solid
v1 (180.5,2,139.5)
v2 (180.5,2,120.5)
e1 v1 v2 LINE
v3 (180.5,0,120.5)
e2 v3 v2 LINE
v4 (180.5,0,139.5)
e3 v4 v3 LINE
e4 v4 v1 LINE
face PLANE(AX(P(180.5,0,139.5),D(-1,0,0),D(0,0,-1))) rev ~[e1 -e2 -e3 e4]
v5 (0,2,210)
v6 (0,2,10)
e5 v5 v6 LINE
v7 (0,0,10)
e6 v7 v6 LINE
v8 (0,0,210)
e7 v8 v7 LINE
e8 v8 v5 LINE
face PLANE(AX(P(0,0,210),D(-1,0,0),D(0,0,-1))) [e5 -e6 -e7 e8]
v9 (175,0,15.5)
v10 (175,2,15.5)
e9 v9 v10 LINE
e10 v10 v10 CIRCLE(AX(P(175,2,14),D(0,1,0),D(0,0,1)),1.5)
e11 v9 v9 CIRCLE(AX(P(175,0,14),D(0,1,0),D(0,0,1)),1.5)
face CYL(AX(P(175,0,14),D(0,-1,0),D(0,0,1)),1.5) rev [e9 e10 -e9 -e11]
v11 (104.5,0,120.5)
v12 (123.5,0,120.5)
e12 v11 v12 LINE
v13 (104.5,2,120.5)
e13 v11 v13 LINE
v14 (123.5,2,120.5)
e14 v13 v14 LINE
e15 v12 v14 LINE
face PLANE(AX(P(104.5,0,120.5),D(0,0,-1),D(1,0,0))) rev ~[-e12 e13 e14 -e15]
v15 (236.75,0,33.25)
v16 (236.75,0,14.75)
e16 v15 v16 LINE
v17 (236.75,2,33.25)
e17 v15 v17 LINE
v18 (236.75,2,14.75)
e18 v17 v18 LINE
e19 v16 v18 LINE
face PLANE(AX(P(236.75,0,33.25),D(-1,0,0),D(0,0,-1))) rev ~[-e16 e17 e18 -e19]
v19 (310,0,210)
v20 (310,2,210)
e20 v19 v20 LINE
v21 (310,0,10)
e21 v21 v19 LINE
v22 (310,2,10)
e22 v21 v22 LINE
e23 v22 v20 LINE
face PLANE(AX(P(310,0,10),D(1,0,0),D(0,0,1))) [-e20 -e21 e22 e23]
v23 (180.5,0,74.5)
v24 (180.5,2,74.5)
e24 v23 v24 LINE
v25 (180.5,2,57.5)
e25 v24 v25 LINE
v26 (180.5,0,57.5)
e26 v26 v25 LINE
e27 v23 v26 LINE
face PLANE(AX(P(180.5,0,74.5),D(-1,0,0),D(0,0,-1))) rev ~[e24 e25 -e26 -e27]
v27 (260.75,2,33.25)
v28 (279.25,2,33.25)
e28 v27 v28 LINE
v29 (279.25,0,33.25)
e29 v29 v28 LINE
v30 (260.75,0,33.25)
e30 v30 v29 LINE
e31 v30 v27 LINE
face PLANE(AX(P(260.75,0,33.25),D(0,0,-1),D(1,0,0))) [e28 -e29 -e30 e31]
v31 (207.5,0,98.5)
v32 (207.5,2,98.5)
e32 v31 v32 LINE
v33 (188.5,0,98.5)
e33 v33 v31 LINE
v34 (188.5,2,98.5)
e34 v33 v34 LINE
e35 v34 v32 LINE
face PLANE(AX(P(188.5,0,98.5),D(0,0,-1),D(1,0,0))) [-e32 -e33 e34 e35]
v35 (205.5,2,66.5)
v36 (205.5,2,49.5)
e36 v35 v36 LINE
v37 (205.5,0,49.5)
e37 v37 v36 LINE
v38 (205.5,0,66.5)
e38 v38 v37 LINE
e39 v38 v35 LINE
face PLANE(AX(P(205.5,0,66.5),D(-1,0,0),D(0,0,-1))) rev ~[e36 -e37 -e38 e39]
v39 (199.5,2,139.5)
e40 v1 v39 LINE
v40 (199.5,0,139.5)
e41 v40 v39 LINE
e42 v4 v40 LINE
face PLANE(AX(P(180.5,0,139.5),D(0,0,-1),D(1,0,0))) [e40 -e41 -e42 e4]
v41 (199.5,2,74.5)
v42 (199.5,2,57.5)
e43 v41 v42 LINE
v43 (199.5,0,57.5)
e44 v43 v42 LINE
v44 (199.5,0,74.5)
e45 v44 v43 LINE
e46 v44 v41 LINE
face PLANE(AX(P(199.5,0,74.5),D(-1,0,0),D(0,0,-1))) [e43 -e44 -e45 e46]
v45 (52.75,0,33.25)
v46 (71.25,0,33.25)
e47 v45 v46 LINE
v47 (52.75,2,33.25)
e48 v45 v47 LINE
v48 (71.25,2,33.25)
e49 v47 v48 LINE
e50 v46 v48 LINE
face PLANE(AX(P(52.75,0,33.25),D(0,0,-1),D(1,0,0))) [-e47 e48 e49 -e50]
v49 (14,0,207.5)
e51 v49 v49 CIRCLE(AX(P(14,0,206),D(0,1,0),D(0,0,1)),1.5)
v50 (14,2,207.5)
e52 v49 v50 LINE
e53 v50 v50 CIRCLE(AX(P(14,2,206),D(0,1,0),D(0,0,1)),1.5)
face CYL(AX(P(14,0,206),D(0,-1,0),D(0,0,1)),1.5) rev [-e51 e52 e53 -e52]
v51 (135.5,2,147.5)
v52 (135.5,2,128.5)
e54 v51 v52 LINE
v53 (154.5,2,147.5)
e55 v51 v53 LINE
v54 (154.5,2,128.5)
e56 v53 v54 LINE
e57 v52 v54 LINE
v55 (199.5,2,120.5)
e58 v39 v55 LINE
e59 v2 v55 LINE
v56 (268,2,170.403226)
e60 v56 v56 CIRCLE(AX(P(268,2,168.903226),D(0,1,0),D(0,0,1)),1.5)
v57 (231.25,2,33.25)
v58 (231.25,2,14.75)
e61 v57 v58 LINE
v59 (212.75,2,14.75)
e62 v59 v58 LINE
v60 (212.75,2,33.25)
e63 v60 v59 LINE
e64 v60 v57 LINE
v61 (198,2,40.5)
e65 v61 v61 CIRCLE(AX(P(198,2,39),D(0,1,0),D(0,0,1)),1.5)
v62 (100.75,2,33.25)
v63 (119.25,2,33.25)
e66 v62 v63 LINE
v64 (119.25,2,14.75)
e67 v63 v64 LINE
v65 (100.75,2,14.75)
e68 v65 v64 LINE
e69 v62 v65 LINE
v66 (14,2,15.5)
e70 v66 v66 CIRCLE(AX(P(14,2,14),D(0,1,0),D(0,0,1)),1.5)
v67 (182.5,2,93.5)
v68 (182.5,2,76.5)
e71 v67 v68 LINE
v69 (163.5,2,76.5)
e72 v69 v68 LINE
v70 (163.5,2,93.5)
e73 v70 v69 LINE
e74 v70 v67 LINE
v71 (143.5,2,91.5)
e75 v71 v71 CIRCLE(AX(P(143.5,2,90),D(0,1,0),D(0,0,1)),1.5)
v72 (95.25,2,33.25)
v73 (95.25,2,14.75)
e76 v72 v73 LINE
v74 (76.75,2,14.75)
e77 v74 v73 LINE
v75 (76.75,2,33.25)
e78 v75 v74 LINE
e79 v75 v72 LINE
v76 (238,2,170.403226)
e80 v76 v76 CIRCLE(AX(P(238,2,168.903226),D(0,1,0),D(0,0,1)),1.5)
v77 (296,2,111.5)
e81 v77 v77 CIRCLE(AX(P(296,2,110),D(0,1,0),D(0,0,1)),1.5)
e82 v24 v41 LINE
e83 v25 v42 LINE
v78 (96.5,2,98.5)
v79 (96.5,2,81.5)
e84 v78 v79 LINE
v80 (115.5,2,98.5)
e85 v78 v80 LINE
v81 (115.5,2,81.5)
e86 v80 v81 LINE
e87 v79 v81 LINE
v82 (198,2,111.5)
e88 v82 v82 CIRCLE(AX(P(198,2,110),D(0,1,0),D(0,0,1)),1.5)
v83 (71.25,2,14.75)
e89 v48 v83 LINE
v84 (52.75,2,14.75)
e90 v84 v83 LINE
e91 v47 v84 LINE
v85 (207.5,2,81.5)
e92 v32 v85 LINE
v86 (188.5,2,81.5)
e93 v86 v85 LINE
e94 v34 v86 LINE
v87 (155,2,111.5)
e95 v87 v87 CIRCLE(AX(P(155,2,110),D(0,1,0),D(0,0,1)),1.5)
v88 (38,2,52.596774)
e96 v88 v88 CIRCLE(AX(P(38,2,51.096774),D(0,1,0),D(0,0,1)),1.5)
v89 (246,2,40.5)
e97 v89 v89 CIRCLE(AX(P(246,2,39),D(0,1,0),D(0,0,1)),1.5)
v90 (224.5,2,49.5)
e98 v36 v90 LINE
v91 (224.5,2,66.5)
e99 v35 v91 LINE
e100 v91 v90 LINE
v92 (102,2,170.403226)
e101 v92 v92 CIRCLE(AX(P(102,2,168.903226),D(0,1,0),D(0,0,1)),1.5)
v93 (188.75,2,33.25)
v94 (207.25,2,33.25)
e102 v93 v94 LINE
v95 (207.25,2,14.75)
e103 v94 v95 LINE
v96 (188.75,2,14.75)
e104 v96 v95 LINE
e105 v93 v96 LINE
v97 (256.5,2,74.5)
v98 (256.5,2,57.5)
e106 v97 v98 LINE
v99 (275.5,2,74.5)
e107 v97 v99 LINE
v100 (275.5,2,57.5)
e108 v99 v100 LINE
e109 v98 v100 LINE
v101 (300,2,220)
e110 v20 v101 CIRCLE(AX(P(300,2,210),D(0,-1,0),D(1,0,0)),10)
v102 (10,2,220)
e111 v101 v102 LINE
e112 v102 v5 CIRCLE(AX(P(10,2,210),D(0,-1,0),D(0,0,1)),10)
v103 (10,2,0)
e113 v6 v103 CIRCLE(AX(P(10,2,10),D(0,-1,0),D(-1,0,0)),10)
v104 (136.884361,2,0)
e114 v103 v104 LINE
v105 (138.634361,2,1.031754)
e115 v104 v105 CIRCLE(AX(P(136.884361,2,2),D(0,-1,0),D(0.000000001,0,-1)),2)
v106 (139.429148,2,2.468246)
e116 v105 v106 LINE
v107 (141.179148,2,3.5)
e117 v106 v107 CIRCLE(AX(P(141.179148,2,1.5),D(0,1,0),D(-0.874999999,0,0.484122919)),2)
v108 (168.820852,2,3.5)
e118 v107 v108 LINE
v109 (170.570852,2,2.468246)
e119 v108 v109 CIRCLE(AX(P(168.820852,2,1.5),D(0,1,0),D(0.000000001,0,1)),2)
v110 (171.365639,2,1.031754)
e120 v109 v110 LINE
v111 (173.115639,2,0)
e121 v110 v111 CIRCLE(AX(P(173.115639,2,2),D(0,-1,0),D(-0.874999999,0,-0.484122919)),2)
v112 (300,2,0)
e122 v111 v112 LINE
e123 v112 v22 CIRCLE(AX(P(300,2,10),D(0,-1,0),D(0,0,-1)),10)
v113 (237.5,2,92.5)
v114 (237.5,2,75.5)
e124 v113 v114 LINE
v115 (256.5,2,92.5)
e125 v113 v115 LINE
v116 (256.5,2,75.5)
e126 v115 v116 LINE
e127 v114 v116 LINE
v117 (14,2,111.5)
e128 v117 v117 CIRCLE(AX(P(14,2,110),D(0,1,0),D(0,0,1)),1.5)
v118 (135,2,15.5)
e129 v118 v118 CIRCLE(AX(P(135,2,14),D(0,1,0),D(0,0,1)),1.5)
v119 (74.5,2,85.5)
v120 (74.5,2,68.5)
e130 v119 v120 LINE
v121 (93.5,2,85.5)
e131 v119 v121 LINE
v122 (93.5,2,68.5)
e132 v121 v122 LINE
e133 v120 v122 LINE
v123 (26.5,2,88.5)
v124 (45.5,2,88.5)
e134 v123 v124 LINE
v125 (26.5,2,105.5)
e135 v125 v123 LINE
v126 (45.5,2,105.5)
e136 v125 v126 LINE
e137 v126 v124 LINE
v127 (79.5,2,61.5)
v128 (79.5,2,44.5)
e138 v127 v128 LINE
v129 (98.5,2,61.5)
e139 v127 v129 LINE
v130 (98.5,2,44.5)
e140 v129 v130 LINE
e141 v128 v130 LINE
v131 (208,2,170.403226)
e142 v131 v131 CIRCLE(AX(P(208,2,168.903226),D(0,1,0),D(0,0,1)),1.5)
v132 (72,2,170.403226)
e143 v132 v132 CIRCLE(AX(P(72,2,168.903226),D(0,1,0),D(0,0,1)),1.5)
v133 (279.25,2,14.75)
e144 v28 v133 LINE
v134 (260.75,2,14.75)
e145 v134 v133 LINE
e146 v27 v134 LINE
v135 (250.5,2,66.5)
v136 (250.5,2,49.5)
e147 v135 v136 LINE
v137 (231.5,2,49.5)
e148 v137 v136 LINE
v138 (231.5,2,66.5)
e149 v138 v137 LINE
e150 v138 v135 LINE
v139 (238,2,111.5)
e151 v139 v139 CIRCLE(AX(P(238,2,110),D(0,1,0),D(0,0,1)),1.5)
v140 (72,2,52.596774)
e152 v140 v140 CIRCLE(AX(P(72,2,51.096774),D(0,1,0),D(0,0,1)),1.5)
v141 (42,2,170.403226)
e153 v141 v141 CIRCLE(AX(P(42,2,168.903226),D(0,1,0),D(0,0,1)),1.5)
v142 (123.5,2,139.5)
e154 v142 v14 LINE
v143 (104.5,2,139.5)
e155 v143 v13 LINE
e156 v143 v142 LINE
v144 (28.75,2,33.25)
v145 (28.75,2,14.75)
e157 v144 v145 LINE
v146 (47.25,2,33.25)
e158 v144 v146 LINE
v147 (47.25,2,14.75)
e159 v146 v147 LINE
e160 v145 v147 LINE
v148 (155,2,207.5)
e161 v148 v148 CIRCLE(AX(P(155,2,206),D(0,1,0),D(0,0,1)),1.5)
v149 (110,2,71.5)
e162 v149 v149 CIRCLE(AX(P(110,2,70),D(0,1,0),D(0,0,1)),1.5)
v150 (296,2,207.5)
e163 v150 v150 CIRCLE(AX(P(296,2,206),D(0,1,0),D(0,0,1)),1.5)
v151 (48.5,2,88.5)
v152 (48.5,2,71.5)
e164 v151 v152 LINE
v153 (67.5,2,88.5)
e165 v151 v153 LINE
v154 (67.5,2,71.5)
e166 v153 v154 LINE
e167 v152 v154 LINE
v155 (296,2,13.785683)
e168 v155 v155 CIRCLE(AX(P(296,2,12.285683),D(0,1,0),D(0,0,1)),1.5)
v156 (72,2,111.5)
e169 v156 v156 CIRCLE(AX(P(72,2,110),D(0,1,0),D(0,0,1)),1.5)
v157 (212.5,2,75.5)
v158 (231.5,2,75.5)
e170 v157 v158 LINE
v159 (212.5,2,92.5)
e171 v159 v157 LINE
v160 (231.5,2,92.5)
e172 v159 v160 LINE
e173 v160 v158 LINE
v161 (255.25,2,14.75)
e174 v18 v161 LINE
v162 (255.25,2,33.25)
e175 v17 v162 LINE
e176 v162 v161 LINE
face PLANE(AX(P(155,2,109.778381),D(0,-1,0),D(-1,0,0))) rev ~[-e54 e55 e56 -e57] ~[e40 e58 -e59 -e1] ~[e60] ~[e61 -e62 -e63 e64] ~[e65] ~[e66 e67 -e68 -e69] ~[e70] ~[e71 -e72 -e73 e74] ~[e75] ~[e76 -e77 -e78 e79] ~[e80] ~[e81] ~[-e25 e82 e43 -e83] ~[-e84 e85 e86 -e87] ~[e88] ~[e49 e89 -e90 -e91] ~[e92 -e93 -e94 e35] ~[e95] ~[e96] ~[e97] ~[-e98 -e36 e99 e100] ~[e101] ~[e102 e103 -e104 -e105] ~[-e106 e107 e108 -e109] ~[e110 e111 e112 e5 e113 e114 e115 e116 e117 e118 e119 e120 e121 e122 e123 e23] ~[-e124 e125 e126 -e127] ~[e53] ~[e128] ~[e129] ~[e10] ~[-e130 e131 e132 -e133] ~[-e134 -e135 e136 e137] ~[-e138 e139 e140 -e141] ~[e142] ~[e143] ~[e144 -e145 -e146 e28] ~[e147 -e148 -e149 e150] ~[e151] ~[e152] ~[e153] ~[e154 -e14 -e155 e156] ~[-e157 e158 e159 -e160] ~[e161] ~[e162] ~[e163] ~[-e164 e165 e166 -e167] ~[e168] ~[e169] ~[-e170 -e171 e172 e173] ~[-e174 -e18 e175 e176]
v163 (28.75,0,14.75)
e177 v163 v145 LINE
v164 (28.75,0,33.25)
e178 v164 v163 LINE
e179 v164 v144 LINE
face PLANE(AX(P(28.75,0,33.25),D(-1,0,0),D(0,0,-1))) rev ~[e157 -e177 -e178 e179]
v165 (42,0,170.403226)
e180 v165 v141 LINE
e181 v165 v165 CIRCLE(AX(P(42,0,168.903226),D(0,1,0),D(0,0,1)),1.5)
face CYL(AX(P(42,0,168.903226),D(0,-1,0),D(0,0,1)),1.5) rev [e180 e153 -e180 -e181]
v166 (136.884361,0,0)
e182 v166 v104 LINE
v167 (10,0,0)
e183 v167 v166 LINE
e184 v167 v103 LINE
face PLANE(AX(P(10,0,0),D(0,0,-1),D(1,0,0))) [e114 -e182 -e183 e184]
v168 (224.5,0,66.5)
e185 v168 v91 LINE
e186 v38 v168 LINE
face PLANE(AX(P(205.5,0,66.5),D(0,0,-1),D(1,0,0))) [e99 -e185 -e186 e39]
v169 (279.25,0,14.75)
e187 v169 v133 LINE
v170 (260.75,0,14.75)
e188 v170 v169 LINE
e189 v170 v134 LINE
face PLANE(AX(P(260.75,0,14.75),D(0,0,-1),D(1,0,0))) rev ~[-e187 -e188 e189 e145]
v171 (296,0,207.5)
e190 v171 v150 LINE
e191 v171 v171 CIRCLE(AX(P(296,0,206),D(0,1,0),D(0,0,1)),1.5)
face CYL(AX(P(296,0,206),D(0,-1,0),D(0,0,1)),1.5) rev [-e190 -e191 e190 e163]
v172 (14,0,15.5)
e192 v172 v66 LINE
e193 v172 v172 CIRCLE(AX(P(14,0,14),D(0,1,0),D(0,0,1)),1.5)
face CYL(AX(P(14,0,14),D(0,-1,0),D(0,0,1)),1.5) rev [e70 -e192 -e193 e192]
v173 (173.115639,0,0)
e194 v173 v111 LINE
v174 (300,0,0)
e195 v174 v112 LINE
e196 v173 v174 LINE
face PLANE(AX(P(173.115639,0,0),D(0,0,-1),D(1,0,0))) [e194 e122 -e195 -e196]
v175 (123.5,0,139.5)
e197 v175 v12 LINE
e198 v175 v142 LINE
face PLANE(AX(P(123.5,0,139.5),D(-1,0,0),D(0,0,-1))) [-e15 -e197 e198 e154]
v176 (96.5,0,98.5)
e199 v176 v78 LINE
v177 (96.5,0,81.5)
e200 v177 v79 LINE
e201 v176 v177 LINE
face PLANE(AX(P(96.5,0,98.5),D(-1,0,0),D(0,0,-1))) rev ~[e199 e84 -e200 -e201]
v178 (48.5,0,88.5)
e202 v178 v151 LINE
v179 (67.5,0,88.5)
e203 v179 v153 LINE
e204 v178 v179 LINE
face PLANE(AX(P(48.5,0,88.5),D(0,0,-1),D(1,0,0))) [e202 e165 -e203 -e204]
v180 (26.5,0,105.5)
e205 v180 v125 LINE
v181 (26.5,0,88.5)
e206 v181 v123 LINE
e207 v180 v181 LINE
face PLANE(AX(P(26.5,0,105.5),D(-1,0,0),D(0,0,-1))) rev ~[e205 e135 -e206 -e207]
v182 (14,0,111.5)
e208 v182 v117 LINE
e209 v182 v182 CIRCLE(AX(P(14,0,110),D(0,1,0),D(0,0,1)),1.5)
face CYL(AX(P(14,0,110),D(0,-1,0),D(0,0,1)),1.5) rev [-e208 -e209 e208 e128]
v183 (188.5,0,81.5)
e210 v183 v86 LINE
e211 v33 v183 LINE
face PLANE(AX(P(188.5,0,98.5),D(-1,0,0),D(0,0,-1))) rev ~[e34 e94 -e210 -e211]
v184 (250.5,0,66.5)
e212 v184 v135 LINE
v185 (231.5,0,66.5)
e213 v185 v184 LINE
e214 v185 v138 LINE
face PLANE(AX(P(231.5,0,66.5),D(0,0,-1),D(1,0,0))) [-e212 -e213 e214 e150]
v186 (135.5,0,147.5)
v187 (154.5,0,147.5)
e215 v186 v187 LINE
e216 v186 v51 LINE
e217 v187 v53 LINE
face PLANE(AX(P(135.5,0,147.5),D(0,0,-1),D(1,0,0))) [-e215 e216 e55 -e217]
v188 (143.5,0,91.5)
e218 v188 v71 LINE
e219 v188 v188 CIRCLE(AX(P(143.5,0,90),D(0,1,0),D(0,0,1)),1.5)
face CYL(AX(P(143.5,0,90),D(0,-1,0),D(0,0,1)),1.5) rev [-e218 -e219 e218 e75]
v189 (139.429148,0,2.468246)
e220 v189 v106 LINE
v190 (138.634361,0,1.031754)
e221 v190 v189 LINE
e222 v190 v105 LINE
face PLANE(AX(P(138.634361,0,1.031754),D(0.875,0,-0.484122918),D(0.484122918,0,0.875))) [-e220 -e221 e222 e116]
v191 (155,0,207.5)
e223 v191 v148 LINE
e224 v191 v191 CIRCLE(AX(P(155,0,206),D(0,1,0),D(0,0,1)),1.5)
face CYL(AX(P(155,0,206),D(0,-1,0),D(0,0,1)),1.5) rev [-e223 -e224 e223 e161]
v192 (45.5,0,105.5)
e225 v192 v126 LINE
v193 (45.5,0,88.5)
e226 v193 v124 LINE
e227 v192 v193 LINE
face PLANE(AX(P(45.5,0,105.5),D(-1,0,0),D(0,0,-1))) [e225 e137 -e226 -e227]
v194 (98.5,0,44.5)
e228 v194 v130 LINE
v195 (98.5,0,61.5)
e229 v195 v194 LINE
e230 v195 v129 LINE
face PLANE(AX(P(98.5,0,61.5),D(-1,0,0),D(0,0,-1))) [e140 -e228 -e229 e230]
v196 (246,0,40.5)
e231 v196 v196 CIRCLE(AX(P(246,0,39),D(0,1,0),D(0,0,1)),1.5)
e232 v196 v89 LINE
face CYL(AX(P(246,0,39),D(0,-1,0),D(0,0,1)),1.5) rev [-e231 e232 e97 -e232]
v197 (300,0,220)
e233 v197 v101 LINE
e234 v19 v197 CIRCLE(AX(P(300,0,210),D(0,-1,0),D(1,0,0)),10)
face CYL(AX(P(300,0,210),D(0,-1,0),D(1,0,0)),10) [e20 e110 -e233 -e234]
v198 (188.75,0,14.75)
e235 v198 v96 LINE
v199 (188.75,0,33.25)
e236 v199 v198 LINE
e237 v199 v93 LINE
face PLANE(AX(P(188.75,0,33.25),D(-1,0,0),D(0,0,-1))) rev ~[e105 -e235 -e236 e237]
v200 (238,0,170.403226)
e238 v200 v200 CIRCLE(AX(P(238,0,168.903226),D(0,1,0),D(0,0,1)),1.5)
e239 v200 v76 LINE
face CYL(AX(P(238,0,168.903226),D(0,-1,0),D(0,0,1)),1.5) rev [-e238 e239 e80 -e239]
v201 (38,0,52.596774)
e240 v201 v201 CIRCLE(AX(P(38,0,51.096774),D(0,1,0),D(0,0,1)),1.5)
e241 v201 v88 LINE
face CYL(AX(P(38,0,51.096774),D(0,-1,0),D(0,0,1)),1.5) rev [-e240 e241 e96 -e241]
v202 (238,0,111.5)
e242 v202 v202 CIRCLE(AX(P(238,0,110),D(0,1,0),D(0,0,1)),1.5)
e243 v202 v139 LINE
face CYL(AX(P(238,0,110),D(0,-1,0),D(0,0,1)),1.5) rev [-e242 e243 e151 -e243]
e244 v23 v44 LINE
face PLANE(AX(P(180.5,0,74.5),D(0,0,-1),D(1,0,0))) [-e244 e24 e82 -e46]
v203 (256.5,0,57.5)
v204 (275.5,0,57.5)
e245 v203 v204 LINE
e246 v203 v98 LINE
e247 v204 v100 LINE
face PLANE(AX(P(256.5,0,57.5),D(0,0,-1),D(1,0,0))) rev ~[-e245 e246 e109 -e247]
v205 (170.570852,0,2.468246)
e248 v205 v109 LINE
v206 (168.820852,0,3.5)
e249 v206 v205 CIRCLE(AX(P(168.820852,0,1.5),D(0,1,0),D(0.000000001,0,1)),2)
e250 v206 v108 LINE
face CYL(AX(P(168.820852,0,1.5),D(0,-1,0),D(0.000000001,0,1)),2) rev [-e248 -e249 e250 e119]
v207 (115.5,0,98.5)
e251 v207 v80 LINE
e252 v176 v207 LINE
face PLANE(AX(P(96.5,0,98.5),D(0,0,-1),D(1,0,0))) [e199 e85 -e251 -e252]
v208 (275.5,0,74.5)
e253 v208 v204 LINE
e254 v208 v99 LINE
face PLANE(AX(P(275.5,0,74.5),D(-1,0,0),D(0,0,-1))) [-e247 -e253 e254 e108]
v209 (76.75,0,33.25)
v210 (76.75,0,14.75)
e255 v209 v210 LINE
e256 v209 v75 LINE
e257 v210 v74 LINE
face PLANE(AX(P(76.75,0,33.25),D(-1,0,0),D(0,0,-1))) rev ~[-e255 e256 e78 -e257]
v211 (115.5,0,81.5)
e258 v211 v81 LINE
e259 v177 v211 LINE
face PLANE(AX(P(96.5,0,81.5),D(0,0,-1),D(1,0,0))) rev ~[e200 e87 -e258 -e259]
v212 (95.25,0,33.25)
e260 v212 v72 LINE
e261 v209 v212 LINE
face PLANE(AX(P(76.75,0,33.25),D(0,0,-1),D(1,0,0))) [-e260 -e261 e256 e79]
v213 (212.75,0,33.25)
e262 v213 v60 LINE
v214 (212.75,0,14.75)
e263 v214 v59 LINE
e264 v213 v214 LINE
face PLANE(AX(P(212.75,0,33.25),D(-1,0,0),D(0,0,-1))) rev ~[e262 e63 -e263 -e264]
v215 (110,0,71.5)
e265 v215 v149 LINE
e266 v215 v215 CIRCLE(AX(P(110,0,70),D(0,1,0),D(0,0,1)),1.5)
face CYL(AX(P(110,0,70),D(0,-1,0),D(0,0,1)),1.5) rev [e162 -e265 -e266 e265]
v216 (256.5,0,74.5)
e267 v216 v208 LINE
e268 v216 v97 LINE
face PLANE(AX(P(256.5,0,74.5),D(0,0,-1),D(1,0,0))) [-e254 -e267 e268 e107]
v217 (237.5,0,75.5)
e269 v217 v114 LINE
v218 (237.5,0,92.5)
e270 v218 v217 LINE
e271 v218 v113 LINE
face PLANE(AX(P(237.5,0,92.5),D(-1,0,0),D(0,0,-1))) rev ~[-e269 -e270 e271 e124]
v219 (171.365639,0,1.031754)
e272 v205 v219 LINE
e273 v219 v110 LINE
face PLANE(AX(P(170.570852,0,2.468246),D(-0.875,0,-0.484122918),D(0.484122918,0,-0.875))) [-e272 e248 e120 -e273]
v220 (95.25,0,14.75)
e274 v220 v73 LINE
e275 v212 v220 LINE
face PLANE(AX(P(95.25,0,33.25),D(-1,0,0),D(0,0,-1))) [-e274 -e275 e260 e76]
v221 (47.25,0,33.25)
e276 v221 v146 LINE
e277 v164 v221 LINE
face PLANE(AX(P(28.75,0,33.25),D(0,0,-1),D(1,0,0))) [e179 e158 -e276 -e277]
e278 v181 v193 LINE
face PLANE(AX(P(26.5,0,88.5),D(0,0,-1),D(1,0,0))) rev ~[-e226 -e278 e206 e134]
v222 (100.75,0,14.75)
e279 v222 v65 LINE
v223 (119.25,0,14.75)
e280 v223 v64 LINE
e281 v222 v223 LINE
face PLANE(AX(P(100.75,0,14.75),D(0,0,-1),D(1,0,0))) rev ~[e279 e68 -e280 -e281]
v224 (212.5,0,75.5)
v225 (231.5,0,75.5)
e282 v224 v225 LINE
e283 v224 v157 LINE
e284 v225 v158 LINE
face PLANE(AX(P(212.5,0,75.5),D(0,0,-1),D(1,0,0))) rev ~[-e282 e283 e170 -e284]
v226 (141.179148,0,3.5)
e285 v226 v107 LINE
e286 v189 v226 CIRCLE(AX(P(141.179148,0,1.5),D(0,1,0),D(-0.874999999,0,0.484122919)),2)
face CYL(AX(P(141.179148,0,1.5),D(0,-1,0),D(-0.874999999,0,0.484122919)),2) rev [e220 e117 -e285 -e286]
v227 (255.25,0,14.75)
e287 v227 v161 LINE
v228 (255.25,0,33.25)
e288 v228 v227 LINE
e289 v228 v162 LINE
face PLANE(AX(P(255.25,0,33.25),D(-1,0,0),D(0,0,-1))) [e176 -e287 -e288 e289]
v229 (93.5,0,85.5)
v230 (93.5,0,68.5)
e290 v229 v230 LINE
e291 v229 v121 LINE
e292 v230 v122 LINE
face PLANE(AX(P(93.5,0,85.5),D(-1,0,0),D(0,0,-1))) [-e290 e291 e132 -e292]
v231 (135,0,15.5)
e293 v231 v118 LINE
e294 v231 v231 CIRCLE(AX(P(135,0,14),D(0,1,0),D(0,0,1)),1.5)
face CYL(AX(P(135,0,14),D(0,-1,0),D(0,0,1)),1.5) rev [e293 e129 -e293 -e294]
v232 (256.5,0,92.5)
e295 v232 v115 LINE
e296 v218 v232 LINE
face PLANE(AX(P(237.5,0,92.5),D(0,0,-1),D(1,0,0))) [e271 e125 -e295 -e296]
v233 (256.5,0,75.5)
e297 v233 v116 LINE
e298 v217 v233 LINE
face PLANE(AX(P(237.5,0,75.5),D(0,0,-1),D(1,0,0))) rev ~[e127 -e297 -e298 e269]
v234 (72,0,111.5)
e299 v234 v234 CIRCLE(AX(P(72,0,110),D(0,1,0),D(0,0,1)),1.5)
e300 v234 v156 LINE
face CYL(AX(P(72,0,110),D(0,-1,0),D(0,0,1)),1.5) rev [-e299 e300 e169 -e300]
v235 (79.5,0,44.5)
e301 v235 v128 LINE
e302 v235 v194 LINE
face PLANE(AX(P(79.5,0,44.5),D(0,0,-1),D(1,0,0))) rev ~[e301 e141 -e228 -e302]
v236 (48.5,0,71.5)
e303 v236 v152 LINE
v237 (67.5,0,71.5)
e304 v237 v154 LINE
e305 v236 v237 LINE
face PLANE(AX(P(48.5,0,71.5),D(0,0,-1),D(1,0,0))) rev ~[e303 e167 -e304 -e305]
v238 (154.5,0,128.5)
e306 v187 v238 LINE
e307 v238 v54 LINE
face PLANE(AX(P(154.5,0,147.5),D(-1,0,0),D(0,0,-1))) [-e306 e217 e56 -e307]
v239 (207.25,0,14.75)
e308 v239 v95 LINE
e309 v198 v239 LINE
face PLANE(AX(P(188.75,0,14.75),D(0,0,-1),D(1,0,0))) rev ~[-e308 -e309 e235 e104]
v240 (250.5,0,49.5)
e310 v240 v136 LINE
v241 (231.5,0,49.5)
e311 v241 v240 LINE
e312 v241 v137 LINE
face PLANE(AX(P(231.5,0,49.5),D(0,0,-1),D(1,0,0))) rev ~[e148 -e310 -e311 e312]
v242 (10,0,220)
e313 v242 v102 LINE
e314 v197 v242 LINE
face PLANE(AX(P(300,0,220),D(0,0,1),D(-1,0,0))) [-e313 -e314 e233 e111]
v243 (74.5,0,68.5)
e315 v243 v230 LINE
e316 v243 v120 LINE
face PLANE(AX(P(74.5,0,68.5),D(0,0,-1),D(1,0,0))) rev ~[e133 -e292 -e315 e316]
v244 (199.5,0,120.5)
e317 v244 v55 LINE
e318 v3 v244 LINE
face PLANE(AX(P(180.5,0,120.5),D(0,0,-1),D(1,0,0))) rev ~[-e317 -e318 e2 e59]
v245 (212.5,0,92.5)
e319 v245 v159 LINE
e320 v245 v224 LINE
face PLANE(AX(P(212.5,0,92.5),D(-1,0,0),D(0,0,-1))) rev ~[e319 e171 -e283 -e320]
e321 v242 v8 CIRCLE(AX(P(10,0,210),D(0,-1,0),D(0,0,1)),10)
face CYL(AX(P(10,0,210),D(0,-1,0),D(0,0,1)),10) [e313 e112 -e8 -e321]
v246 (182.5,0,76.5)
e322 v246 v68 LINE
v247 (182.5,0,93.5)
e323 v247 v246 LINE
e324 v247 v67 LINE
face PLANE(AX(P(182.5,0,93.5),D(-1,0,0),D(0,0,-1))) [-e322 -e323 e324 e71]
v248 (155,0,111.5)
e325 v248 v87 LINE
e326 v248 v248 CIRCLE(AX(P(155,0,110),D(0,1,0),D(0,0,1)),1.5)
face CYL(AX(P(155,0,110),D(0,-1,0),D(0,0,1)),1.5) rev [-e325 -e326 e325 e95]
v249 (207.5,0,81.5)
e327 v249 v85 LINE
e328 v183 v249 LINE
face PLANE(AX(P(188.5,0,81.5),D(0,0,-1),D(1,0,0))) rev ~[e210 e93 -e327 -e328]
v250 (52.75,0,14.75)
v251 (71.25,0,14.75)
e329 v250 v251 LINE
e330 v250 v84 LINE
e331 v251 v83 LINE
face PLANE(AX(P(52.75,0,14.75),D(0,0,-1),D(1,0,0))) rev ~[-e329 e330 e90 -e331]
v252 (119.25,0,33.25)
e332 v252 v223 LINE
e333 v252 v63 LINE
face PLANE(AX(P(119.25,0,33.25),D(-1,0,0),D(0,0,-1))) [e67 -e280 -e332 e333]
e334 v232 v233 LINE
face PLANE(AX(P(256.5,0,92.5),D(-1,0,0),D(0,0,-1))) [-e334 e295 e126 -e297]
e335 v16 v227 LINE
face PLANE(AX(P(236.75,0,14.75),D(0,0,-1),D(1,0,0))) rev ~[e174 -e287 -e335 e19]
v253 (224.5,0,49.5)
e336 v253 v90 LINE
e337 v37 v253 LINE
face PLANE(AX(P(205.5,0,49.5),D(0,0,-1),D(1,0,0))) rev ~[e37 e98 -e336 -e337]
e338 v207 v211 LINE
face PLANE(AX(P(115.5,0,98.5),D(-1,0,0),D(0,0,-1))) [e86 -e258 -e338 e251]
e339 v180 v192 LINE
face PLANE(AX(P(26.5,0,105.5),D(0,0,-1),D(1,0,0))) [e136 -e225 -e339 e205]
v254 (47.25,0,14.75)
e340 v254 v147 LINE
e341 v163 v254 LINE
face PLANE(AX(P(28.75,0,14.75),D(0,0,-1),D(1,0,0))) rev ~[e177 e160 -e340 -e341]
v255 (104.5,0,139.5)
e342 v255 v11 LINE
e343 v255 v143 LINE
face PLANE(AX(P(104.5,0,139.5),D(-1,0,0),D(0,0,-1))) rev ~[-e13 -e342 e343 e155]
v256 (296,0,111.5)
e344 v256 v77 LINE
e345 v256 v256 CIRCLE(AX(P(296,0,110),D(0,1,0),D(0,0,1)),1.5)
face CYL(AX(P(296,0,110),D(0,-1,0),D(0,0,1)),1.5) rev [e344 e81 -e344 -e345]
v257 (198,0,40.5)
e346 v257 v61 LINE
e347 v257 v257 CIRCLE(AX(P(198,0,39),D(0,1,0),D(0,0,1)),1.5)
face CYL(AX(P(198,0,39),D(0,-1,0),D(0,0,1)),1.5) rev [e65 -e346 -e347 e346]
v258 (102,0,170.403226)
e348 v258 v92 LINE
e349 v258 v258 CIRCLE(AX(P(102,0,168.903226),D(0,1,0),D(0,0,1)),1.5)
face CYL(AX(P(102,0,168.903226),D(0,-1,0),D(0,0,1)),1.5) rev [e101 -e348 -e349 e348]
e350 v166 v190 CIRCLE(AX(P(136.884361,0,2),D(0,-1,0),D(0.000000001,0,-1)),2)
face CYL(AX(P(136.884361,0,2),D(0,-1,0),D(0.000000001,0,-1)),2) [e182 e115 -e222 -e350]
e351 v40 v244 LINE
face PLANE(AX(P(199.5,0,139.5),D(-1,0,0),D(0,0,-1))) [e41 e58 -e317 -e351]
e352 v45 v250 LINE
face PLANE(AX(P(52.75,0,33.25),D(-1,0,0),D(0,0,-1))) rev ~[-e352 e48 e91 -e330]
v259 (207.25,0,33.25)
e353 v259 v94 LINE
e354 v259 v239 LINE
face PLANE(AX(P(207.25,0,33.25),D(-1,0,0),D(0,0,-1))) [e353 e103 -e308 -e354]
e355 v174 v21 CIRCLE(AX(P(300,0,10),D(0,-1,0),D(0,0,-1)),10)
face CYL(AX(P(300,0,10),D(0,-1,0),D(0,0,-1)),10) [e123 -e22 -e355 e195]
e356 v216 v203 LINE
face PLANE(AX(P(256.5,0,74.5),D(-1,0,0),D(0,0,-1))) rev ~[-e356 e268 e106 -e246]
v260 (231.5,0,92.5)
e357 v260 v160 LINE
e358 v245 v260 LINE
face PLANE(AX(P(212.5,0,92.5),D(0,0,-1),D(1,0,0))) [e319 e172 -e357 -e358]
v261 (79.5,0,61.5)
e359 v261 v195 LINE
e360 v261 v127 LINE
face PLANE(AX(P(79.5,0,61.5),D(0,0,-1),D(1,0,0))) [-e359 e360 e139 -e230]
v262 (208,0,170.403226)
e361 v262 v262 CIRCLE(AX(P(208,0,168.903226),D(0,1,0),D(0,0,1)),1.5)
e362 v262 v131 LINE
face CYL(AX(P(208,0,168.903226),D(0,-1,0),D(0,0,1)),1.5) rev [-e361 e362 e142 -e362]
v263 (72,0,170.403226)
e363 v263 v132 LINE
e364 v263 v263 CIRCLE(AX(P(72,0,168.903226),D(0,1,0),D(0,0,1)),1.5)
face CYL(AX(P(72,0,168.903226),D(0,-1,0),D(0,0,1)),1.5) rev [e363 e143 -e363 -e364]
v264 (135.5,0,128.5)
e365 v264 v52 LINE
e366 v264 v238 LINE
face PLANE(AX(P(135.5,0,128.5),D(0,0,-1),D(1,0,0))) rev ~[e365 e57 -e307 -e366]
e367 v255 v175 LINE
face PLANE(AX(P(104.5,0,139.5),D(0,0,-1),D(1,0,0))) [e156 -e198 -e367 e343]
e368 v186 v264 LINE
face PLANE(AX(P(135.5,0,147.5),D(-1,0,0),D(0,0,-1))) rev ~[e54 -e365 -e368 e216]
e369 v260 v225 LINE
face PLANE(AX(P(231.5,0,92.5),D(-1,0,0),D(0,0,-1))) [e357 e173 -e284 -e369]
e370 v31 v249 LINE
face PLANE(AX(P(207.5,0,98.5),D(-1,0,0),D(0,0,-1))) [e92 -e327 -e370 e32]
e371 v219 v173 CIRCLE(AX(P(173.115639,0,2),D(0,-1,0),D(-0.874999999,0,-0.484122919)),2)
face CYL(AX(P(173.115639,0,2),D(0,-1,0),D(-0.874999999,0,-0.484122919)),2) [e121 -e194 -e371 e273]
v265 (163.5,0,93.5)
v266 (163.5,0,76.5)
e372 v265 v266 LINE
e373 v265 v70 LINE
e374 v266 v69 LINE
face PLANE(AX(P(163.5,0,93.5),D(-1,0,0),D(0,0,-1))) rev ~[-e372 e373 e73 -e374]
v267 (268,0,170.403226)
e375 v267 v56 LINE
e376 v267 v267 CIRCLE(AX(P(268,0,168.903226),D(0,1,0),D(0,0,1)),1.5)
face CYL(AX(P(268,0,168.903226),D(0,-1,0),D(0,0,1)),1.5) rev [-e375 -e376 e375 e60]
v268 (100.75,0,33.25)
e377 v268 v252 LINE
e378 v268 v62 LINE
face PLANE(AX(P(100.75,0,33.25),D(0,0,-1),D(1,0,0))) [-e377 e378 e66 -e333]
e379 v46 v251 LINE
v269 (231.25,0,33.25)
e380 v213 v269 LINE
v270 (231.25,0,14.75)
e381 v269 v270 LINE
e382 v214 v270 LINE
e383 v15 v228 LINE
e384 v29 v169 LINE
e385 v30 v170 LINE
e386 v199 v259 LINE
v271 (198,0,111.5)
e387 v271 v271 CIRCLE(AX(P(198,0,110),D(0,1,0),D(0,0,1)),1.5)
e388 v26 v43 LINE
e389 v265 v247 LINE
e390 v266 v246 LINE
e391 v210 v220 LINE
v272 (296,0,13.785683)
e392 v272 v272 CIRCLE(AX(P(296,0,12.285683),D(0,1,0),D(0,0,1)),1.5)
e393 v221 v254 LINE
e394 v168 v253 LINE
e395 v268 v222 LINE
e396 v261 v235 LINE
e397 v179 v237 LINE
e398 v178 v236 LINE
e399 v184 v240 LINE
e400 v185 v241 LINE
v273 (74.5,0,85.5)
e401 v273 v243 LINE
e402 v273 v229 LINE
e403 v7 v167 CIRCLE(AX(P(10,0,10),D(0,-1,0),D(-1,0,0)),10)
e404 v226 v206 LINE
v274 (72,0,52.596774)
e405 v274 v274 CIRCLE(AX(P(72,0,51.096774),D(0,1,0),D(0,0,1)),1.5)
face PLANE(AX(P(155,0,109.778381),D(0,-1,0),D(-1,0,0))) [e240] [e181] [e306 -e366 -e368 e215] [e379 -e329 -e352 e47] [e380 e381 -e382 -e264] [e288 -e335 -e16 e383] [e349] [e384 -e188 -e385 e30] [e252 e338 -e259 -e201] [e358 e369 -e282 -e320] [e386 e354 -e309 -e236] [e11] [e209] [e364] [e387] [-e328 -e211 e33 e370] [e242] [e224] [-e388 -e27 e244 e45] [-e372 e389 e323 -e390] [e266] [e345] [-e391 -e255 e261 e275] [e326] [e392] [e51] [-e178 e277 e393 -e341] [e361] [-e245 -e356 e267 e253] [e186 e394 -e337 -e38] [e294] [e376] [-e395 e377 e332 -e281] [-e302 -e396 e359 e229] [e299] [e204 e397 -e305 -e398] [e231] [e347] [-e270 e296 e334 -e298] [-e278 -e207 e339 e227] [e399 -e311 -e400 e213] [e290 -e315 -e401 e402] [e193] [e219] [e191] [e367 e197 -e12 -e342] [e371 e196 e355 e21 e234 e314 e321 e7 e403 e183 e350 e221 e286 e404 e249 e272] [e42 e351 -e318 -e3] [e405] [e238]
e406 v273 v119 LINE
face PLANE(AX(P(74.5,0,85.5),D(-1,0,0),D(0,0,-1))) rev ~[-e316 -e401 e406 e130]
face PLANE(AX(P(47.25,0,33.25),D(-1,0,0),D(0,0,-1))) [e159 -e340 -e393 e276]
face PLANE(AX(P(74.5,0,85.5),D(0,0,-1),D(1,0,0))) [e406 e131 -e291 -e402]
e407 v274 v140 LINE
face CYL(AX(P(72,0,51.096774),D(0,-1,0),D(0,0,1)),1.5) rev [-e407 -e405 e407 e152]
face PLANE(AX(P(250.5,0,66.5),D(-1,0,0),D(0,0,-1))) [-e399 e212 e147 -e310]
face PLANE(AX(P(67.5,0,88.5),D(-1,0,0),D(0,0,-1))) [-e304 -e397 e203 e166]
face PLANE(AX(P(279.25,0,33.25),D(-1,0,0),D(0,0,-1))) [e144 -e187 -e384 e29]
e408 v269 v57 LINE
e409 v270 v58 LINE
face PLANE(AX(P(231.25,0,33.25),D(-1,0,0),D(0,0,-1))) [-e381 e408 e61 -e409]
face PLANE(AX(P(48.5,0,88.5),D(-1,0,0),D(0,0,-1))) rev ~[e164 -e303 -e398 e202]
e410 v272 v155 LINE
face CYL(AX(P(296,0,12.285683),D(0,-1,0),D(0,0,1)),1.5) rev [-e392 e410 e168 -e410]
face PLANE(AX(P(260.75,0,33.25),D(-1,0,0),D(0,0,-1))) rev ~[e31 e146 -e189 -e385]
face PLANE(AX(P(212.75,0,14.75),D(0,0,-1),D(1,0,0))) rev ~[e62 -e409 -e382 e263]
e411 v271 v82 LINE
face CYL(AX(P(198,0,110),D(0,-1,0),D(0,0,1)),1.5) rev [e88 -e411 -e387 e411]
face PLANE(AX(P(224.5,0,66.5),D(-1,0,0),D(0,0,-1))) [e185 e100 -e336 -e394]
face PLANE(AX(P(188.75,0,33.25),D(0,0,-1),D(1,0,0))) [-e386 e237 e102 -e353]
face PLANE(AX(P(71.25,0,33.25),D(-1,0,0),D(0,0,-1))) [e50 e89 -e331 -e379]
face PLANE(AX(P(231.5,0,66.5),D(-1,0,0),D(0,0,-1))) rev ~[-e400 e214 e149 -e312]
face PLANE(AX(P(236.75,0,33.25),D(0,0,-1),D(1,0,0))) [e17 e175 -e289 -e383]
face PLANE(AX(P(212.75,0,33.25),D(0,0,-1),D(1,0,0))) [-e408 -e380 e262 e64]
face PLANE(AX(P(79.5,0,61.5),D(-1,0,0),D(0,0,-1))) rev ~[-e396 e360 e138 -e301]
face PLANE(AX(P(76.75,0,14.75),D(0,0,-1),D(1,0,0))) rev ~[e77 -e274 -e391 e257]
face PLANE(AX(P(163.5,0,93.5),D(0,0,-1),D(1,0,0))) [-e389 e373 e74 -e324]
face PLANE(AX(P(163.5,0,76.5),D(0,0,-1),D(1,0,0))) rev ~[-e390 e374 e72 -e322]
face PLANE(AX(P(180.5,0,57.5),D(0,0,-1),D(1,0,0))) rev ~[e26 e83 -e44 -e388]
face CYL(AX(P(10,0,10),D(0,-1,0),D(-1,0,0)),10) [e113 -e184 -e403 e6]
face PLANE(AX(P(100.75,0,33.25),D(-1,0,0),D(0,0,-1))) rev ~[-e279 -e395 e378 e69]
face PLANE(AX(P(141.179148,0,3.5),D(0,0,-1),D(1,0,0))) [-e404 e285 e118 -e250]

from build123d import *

# Parameters (mm, degrees)
SKETCH_1_R      = 1.5
SKETCH_1_W      = 18.5
SKETCH_1_H      = 18.5
SKETCH_1_W_2    = 19
SKETCH_1_H_2    = 17
SKETCH_1_H_3    = 19
EXTRUDE_1_DEPTH = 2


with BuildPart() as part:
    # 草图1 → 凸台-拉伸1 (new body)
    with BuildSketch(Plane(origin=(0, 0, 0), x_dir=(1, 0, 0), z_dir=(0, 1, 0))):
        with BuildLine():
            Line((10, 0), (136.884360712, 0))
            ThreePointArc((136.884360712, 0), (137.900113715, -0.277140216), (138.634360712, -1.031754163))
            Line((138.634360712, -1.031754163), (139.429147615, -2.468245837))
            ThreePointArc((139.429147615, -2.468245837), (140.163394612, -3.222859784), (141.179147615, -3.5))
            Line((141.179147615, -3.5), (143.5, -3.5))
            Line((143.5, -3.5), (166.5, -3.5))
            Line((166.5, -3.5), (168.820852385, -3.5))
            ThreePointArc((168.820852385, -3.5), (169.836605388, -3.222859784), (170.570852385, -2.468245837))
            Line((170.570852385, -2.468245837), (171.365639288, -1.031754163))
            ThreePointArc((171.365639288, -1.031754163), (172.099886285, -0.277140216), (173.115639288, 0))
            Line((173.115639288, 0), (300, 0))
            ThreePointArc((300, 0), (307.071067812, -2.928932188), (310, -10))
            Line((310, -10), (310, -210))
            ThreePointArc((310, -210), (307.071067812, -217.071067812), (300, -220))
            Line((300, -220), (10, -220))
            ThreePointArc((10, -220), (2.928932188, -217.071067812), (0, -210))
            Line((0, -210), (0, -10))
            ThreePointArc((0, -10), (2.928932188, -2.928932188), (10, 0))
        make_face()
        with Locations(Location((14, -14, 0), (0, 0, 270))):
            Circle(SKETCH_1_R, mode=Mode.SUBTRACT)
        with Locations(Location((14, -206, 0), (0, 0, 270))):
            Circle(SKETCH_1_R, mode=Mode.SUBTRACT)
        with Locations(Location((296, -206, 0), (0, 0, 270))):
            Circle(SKETCH_1_R, mode=Mode.SUBTRACT)
        with Locations(Location((296, -12.28568254, 0), (0, 0, 270))):
            Circle(SKETCH_1_R, mode=Mode.SUBTRACT)
        with Locations(Location((155, -206, 0), (0, 0, 270))):
            Circle(SKETCH_1_R, mode=Mode.SUBTRACT)
        with Locations(Location((175, -14, 0), (0, 0, 270))):
            Circle(SKETCH_1_R, mode=Mode.SUBTRACT)
        with Locations(Location((135, -14, 0), (0, 0, 270))):
            Circle(SKETCH_1_R, mode=Mode.SUBTRACT)
        with Locations(Location((296, -110, 0), (0, 0, 270))):
            Circle(SKETCH_1_R, mode=Mode.SUBTRACT)
        with Locations(Location((14, -110, 0), (0, 0, 270))):
            Circle(SKETCH_1_R, mode=Mode.SUBTRACT)
        with Locations(Location((155, -110, 0), (0, 0, 270))):
            Circle(SKETCH_1_R, mode=Mode.SUBTRACT)
        with Locations(Location((72, -110, 0), (0, 0, 270))):
            Circle(SKETCH_1_R, mode=Mode.SUBTRACT)
        with Locations(Location((72, -168.903225806, 0), (0, 0, 270))):
            Circle(SKETCH_1_R, mode=Mode.SUBTRACT)
        with Locations(Location((72, -51.096774194, 0), (0, 0, 270))):
            Circle(SKETCH_1_R, mode=Mode.SUBTRACT)
        with Locations(Location((42, -168.903225806, 0), (0, 0, 270))):
            Circle(SKETCH_1_R, mode=Mode.SUBTRACT)
        with Locations(Location((102, -168.903225806, 0), (0, 0, 270))):
            Circle(SKETCH_1_R, mode=Mode.SUBTRACT)
        with Locations(Location((238, -110, 0), (0, 0, 270))):
            Circle(SKETCH_1_R, mode=Mode.SUBTRACT)
        with Locations(Location((238, -168.903225806, 0), (0, 0, 270))):
            Circle(SKETCH_1_R, mode=Mode.SUBTRACT)
        with Locations(Location((268, -168.903225806, 0), (0, 0, 270))):
            Circle(SKETCH_1_R, mode=Mode.SUBTRACT)
        with Locations(Location((208, -168.903225806, 0), (0, 0, 270))):
            Circle(SKETCH_1_R, mode=Mode.SUBTRACT)
        with Locations(Location((246, -39, 0), (0, 0, 270))):
            Circle(SKETCH_1_R, mode=Mode.SUBTRACT)
        with Locations(Location((198, -39, 0), (0, 0, 270))):
            Circle(SKETCH_1_R, mode=Mode.SUBTRACT)
        with Locations(Location((110, -70, 0), (0, 0, 270))):
            Circle(SKETCH_1_R, mode=Mode.SUBTRACT)
        with Locations(Location((38, -51.096774194, 0), (0, 0, 270))):
            Circle(SKETCH_1_R, mode=Mode.SUBTRACT)
        with Locations(Location((198, -110, 0), (0, 0, 270))):
            Circle(SKETCH_1_R, mode=Mode.SUBTRACT)
        with Locations(Location((143.5, -90, 0), (0, 0, 270))):
            Circle(SKETCH_1_R, mode=Mode.SUBTRACT)
        with Locations((38, -24)):
            Rectangle(SKETCH_1_W, SKETCH_1_H, mode=Mode.SUBTRACT)
        with Locations((62, -24)):
            Rectangle(SKETCH_1_W, SKETCH_1_H, mode=Mode.SUBTRACT)
        with Locations((86, -24)):
            Rectangle(SKETCH_1_W, SKETCH_1_H, mode=Mode.SUBTRACT)
        with Locations((110, -24)):
            Rectangle(SKETCH_1_W, SKETCH_1_H, mode=Mode.SUBTRACT)
        with Locations((198, -24)):
            Rectangle(SKETCH_1_W, SKETCH_1_H, mode=Mode.SUBTRACT)
        with Locations((222, -24)):
            Rectangle(SKETCH_1_W, SKETCH_1_H, mode=Mode.SUBTRACT)
        with Locations((246, -24)):
            Rectangle(SKETCH_1_W, SKETCH_1_H, mode=Mode.SUBTRACT)
        with Locations((270, -24)):
            Rectangle(SKETCH_1_W, SKETCH_1_H, mode=Mode.SUBTRACT)
        with Locations((89, -53)):
            Rectangle(SKETCH_1_W_2, SKETCH_1_H_2, mode=Mode.SUBTRACT)
        with Locations((84, -77)):
            Rectangle(SKETCH_1_W_2, SKETCH_1_H_2, mode=Mode.SUBTRACT)
        with Locations((106, -90)):
            Rectangle(SKETCH_1_W_2, SKETCH_1_H_2, mode=Mode.SUBTRACT)
        with Locations((58, -80)):
            Rectangle(SKETCH_1_W_2, SKETCH_1_H_2, mode=Mode.SUBTRACT)
        with Locations((36, -97)):
            Rectangle(SKETCH_1_W_2, SKETCH_1_H_2, mode=Mode.SUBTRACT)
        with Locations((114, -130)):
            Rectangle(SKETCH_1_W_2, SKETCH_1_H_3, mode=Mode.SUBTRACT)
        with Locations((145, -138)):
            Rectangle(SKETCH_1_W_2, SKETCH_1_H_3, mode=Mode.SUBTRACT)
        with Locations((190, -130)):
            Rectangle(SKETCH_1_W_2, SKETCH_1_H_3, mode=Mode.SUBTRACT)
        with Locations((173, -85)):
            Rectangle(SKETCH_1_W_2, SKETCH_1_H_2, mode=Mode.SUBTRACT)
        with Locations((190, -66)):
            Rectangle(SKETCH_1_W_2, SKETCH_1_H_2, mode=Mode.SUBTRACT)
        with Locations((198, -90)):
            Rectangle(SKETCH_1_W_2, SKETCH_1_H_2, mode=Mode.SUBTRACT)
        with Locations((215, -58)):
            Rectangle(SKETCH_1_W_2, SKETCH_1_H_2, mode=Mode.SUBTRACT)
        with Locations((222, -84)):
            Rectangle(SKETCH_1_W_2, SKETCH_1_H_2, mode=Mode.SUBTRACT)
        with Locations((241, -58)):
            Rectangle(SKETCH_1_W_2, SKETCH_1_H_2, mode=Mode.SUBTRACT)
        with Locations((247, -84)):
            Rectangle(SKETCH_1_W_2, SKETCH_1_H_2, mode=Mode.SUBTRACT)
        with Locations((266, -66)):
            Rectangle(SKETCH_1_W_2, SKETCH_1_H_2, mode=Mode.SUBTRACT)
    extrude(amount=EXTRUDE_1_DEPTH)


solid = part.part
